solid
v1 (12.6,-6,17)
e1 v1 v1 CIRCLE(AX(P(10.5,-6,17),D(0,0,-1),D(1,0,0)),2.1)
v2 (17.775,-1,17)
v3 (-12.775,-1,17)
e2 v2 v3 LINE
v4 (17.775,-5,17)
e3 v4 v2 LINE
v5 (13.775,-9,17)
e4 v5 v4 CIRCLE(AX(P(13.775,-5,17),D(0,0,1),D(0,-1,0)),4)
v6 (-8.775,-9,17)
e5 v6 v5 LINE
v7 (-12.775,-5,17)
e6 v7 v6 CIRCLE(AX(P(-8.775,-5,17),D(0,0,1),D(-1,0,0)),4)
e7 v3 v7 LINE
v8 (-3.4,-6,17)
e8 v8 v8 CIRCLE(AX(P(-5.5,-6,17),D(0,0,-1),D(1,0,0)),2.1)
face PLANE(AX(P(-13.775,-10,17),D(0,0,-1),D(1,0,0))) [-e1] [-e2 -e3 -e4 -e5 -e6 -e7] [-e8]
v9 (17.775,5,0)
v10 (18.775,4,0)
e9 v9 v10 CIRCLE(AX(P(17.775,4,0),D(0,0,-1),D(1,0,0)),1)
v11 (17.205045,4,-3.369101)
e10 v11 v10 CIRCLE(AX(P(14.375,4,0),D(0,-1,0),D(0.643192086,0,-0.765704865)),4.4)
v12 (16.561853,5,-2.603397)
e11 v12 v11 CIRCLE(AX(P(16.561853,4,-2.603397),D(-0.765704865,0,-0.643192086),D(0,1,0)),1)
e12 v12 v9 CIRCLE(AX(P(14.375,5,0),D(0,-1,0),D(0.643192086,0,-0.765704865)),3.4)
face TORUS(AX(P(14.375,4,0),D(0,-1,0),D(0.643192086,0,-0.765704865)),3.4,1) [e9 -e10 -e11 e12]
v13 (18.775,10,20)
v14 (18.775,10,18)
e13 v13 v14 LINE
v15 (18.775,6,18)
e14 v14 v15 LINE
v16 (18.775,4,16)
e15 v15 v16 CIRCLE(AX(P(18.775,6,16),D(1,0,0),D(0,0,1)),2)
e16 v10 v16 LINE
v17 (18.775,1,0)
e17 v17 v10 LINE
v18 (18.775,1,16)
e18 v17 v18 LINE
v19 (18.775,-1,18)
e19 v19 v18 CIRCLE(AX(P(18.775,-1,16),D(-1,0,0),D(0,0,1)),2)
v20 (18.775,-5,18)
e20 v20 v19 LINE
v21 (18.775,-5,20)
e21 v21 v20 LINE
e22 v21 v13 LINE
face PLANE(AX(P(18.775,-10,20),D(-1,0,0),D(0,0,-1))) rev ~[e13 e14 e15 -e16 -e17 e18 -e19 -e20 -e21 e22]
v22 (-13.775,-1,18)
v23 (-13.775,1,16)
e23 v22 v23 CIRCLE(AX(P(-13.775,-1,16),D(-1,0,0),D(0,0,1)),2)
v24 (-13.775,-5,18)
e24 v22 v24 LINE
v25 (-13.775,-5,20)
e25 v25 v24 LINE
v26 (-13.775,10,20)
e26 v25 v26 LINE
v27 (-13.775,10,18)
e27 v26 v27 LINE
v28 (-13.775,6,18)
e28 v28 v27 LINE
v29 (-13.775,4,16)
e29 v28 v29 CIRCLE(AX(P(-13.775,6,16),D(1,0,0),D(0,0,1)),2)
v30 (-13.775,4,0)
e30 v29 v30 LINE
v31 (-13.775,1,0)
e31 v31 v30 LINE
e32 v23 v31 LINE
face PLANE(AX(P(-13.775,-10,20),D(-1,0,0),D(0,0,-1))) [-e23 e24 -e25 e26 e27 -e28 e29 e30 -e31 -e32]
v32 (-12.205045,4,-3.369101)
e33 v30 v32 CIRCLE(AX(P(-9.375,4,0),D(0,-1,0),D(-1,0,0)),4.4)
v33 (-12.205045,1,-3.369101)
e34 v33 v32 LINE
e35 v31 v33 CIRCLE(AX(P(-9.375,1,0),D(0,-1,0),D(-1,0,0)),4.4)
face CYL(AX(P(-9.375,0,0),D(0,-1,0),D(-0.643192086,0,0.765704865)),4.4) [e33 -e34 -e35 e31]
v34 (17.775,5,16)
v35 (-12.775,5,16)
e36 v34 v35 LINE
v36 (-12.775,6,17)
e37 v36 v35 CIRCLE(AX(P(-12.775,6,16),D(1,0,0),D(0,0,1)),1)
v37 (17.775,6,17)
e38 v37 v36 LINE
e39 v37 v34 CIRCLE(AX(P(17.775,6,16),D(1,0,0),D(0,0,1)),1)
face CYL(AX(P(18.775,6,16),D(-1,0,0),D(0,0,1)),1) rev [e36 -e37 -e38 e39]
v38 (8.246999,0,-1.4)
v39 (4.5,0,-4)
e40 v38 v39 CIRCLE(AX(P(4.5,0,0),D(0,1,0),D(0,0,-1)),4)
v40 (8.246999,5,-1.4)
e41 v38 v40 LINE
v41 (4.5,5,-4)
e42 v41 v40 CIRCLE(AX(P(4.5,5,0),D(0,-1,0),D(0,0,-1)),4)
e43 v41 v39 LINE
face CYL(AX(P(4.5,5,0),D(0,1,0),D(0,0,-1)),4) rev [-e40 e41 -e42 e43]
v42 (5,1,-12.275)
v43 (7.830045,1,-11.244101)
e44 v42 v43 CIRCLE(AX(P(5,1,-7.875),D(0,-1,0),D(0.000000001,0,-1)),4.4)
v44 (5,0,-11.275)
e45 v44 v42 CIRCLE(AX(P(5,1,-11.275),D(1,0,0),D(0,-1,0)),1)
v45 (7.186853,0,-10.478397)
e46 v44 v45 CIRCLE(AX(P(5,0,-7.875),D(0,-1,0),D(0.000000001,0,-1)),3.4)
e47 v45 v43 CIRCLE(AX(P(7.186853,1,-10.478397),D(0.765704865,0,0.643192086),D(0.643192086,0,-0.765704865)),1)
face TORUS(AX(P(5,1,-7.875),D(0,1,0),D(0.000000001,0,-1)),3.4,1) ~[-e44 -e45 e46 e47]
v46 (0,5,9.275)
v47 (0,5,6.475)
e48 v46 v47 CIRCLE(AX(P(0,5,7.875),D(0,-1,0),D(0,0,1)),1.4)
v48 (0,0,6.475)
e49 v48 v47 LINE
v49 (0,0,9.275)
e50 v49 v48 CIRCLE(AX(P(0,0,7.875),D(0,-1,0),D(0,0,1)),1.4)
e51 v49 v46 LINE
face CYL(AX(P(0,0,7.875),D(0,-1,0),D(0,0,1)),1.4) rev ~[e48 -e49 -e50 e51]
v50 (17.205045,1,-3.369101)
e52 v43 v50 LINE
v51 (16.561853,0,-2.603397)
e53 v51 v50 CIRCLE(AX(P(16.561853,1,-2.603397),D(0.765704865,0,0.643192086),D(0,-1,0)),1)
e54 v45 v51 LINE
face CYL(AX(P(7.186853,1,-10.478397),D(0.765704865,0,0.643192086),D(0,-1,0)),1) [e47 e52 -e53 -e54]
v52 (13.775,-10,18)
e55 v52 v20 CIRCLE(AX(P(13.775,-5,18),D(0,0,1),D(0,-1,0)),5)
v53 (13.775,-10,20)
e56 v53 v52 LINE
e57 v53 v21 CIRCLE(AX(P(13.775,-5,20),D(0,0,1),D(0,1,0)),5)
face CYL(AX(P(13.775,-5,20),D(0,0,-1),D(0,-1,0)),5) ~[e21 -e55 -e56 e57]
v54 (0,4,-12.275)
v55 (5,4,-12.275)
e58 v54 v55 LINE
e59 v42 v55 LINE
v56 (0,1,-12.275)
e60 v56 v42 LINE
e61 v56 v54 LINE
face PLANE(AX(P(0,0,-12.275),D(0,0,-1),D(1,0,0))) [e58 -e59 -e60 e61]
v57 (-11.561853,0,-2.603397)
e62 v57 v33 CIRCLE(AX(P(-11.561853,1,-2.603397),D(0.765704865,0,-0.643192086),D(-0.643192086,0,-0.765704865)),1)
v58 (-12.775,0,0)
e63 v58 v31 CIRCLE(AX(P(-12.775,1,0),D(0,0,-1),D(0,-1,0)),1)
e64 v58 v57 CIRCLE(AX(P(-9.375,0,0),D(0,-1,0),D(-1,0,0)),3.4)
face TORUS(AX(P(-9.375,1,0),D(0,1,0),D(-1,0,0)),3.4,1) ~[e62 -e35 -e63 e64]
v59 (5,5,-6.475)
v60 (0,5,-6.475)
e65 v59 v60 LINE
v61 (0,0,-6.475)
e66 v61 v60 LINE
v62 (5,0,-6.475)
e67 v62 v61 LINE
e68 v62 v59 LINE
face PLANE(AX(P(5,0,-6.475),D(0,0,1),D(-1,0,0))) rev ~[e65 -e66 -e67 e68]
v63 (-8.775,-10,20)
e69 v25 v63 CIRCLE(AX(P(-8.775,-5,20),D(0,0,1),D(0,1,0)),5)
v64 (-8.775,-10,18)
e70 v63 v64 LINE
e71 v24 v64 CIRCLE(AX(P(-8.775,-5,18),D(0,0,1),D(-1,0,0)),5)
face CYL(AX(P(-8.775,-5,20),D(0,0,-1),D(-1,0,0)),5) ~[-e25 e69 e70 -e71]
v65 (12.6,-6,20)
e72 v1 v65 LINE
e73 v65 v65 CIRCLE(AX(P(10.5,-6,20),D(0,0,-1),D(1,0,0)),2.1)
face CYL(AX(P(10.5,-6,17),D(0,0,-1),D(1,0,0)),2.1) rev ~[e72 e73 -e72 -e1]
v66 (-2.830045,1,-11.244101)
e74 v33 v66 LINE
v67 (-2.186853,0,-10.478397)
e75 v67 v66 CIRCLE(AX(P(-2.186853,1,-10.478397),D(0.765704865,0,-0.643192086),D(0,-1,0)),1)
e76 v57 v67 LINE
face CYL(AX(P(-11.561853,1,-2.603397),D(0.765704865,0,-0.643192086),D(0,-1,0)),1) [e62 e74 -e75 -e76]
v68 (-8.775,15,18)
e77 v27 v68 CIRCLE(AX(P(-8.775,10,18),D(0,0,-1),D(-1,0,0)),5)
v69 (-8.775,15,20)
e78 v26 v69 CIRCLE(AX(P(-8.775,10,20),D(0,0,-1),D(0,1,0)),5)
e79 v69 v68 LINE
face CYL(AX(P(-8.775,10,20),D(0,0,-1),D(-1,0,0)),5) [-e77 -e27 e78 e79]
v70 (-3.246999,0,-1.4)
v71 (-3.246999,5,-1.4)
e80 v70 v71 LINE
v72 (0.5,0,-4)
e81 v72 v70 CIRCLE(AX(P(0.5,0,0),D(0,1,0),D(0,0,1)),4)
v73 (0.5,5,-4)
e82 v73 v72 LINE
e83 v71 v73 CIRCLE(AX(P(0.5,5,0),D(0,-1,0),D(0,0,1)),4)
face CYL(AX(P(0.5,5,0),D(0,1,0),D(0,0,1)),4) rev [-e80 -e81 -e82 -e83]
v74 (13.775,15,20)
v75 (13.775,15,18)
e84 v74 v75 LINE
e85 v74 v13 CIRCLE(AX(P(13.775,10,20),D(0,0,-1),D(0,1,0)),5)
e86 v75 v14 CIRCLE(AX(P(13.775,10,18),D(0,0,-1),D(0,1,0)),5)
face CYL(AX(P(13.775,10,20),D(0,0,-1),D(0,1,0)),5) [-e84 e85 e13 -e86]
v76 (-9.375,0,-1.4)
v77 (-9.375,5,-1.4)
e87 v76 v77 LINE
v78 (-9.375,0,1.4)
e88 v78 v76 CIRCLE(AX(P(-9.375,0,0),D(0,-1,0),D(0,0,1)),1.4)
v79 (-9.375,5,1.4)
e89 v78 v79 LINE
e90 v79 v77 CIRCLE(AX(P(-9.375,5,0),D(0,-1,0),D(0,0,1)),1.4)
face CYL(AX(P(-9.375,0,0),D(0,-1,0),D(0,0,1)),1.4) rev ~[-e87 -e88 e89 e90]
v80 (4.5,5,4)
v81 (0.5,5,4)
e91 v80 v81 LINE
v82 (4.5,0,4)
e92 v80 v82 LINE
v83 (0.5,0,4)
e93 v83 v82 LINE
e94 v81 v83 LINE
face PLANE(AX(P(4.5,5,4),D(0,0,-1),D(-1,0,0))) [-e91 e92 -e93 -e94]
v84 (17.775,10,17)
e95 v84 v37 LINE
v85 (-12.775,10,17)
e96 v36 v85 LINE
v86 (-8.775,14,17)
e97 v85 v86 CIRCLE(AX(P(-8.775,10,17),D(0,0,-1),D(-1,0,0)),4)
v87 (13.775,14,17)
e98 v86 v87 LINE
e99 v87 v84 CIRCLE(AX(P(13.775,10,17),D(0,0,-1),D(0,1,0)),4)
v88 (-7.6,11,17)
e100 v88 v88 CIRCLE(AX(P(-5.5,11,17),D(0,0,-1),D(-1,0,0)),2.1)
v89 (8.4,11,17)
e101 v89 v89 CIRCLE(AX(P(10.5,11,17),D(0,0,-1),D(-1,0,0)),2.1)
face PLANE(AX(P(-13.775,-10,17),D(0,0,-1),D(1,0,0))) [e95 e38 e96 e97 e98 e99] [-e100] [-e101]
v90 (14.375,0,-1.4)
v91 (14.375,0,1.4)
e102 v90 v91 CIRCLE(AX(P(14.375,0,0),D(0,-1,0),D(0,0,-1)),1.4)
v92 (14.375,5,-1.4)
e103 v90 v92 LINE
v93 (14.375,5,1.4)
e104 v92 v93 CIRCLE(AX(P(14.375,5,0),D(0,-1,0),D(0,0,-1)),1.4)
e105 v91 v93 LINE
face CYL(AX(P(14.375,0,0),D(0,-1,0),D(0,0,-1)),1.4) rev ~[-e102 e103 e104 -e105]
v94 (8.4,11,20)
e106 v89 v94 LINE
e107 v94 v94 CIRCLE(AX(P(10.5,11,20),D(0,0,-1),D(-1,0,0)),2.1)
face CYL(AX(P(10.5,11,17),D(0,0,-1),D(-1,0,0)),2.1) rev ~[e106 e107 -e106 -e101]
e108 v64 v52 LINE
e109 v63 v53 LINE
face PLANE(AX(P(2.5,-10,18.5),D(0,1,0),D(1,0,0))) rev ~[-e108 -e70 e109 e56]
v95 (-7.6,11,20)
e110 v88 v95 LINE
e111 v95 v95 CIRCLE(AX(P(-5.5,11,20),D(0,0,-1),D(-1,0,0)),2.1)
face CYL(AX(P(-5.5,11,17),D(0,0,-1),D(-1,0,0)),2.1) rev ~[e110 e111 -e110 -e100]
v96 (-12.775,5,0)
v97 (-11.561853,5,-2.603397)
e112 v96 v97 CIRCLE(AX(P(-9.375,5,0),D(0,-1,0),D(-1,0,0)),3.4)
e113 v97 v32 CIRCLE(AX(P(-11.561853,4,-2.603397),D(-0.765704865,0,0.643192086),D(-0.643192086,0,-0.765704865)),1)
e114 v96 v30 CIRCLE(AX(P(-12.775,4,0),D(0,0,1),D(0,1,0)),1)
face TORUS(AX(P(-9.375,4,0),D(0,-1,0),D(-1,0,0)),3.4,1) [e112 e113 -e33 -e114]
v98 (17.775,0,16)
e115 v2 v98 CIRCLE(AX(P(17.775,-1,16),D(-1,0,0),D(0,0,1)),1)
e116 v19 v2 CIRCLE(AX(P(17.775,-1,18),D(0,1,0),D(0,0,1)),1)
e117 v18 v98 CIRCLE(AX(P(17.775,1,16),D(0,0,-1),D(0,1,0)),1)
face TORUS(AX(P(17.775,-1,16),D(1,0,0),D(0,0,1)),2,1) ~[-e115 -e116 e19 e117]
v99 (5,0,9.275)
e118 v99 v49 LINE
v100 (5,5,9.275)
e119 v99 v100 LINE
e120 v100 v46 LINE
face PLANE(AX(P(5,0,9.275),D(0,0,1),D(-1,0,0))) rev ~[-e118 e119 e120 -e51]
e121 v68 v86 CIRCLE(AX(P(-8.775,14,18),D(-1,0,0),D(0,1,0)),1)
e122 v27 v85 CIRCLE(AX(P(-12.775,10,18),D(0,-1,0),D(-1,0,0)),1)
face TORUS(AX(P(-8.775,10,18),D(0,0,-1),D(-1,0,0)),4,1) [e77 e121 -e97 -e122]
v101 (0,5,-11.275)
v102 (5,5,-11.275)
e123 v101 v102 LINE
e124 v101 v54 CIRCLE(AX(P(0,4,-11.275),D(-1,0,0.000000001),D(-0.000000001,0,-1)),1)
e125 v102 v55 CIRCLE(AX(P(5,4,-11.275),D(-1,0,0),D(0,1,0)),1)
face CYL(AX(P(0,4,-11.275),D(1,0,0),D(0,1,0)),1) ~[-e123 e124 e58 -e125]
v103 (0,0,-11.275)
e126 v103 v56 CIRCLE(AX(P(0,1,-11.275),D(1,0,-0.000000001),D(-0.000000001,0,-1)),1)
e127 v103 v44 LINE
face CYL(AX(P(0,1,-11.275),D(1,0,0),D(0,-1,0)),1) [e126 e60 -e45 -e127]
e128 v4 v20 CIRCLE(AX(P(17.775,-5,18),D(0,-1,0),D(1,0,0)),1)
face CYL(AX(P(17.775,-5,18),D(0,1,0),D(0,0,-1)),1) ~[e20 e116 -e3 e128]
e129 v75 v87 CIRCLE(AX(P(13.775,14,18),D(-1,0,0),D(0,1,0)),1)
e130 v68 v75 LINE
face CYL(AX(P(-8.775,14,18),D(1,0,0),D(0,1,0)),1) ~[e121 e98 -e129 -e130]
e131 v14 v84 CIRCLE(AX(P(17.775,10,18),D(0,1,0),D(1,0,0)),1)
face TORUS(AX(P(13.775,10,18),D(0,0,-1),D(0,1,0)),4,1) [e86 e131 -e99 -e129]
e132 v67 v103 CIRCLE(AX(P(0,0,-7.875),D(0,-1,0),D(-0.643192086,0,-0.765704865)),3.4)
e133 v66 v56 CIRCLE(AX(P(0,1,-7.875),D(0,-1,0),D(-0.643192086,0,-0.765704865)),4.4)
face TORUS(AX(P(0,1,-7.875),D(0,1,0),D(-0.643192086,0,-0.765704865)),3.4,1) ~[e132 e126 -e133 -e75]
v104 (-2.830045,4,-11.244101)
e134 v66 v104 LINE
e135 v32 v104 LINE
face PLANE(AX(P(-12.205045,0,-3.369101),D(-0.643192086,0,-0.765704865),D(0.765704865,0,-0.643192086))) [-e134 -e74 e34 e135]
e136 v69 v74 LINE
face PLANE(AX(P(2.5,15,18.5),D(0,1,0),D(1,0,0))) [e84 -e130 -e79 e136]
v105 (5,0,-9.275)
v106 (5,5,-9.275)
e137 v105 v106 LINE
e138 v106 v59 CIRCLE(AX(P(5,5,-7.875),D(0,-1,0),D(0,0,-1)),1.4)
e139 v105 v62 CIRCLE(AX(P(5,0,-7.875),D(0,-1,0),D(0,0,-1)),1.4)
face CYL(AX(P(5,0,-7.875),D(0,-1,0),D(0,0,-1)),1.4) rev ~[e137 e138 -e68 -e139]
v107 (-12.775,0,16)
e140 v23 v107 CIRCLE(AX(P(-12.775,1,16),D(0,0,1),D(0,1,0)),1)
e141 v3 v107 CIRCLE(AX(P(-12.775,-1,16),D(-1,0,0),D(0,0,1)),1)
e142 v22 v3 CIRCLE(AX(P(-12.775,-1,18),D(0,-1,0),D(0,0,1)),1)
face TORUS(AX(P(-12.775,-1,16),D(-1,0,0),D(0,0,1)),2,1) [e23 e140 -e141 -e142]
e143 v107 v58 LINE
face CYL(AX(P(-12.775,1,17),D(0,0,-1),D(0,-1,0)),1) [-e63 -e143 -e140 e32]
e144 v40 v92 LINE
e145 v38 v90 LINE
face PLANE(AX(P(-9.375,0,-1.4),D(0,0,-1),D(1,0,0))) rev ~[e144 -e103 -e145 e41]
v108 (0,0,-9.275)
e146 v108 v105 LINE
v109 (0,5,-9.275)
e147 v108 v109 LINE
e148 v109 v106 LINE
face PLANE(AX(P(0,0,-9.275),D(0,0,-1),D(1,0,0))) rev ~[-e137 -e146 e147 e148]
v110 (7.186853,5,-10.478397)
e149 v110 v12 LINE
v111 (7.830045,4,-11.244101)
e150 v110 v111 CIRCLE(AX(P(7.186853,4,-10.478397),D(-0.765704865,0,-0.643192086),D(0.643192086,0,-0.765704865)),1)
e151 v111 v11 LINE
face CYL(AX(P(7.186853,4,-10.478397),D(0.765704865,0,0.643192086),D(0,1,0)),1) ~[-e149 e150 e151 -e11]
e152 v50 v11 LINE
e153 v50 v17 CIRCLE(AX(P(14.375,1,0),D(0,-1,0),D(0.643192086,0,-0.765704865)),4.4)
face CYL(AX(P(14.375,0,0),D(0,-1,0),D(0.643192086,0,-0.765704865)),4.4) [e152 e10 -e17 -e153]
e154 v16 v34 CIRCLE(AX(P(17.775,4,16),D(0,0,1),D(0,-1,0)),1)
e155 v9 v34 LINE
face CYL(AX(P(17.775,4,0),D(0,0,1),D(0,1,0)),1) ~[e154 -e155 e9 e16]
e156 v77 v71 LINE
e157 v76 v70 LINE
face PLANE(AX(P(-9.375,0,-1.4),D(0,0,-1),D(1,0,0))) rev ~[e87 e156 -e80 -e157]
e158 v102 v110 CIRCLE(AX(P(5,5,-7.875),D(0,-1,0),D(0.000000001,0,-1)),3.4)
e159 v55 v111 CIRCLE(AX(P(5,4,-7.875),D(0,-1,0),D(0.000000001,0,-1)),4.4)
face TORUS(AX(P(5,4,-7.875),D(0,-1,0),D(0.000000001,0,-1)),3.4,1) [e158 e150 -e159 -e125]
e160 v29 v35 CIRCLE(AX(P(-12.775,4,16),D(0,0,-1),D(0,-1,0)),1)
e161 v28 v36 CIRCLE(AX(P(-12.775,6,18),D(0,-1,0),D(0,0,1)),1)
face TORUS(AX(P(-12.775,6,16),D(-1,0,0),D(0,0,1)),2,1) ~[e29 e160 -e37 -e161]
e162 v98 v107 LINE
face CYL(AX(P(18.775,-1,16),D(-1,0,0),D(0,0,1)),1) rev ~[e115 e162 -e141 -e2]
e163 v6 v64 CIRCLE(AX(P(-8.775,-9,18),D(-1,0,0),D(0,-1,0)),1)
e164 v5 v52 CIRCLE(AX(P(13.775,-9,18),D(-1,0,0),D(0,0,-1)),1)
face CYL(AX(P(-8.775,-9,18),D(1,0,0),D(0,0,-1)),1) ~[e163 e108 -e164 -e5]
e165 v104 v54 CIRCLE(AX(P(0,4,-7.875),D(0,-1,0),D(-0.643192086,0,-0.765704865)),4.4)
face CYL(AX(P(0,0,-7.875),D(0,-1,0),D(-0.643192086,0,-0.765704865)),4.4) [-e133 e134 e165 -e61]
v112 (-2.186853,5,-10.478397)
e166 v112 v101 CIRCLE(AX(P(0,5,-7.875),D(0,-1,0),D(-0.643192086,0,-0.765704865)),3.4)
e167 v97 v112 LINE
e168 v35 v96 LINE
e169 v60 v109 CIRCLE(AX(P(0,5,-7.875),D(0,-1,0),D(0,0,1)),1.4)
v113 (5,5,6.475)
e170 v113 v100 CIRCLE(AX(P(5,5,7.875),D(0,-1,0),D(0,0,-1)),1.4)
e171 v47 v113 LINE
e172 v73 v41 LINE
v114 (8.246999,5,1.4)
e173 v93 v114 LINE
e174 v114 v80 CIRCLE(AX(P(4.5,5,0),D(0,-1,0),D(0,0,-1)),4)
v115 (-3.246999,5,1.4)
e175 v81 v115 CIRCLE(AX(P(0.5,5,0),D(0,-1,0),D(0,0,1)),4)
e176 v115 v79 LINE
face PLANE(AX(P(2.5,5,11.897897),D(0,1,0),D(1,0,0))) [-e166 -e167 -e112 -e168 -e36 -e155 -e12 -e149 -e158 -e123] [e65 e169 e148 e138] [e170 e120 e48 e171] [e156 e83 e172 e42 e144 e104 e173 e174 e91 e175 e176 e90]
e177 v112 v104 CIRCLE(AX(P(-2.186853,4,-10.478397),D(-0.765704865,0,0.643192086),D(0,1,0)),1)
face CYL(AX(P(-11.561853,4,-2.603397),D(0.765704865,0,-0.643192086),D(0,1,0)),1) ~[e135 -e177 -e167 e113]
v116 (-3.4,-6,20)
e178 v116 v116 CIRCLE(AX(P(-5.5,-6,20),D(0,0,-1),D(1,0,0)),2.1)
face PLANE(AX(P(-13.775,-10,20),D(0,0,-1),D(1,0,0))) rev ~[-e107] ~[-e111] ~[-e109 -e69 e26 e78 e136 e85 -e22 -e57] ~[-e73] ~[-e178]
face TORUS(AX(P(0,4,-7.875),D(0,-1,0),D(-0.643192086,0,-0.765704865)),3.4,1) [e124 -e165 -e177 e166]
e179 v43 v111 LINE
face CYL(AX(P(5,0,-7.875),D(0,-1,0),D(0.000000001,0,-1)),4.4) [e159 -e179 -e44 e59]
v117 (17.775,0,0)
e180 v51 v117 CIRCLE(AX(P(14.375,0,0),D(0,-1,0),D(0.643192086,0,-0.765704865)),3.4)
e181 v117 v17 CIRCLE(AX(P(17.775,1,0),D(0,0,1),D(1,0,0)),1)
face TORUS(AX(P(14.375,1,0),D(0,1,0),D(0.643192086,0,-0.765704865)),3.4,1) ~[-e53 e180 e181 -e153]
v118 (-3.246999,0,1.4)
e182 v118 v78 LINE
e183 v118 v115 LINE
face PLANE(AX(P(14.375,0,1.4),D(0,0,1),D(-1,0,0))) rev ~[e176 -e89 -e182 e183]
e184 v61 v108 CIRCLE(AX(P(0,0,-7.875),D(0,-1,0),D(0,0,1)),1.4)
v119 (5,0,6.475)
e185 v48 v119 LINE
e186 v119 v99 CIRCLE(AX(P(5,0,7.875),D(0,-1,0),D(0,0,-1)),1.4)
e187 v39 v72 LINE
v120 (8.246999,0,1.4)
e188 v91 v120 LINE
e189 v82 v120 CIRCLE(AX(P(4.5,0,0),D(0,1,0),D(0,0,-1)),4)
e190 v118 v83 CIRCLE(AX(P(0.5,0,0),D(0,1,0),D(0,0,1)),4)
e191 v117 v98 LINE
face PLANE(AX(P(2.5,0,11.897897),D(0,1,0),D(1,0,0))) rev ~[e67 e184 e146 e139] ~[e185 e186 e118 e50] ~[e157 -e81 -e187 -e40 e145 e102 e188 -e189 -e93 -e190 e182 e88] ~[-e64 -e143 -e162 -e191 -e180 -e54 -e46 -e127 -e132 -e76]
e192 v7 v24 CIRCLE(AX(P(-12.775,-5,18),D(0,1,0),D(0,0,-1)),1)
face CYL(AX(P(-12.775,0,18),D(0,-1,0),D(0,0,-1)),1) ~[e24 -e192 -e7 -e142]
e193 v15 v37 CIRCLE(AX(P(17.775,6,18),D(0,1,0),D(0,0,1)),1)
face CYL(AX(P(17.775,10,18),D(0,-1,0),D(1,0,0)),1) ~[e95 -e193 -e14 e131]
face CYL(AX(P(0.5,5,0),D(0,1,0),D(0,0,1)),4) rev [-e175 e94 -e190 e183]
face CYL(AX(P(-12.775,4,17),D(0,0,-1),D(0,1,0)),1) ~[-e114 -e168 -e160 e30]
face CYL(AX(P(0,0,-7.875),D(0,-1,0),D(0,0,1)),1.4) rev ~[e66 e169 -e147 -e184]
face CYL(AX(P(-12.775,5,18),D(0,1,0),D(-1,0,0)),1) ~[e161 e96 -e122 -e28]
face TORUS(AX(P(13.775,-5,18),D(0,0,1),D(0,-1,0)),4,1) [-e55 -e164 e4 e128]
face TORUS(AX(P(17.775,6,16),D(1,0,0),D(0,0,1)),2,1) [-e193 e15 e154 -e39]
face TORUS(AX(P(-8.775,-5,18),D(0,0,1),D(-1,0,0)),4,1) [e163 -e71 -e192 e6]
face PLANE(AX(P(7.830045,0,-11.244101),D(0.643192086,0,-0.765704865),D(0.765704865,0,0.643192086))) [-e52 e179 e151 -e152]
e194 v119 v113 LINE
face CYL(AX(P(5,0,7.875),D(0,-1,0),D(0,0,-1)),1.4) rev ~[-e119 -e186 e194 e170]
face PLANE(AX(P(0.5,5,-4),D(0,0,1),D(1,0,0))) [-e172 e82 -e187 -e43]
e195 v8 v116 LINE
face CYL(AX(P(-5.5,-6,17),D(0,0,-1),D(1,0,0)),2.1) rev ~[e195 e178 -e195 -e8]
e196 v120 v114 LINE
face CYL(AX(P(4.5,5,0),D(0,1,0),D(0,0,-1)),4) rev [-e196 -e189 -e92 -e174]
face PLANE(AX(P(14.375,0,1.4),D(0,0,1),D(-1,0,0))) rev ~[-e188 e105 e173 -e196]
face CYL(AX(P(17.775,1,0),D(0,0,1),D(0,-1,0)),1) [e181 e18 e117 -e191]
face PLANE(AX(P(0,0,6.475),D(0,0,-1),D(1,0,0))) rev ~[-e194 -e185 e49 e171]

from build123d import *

# Parameters (mm, degrees)
BOSS_EXTRUDE1_DEPTH      = 5
CUT_EXTRUDE1_DEPTH       = 23.982085415
BOSS_EXTRUDE3_START      = -5
BOSS_EXTRUDE3_DEPTH      = 5
BOSS_EXTRUDE4_DEPTH      = 10
BOSS_EXTRUDE4_DEPTH_BACK = 15
SKETCH5_W                = 32.55
SKETCH5_H                = 3
SKETCH6_R                = 2.1
CUT_EXTRUDE2_DEPTH       = 10
FILLET1_R                = 5
FILLET2_R                = 1


with BuildPart() as part:
    # Sketch1 → Boss-Extrude1 (new body)
    with BuildSketch(Plane(origin=(0, 0, 0), x_dir=(1, 0, 0), z_dir=(0, 1, 0))):
        with BuildLine():
            Line((0, 12.275), (5, 12.275))
            ThreePointArc((5, 12.275), (6.505980381, 12.009250003), (7.83004518, 11.244101405))
            Line((7.83004518, 11.244101405), (17.20504518, 3.369101405))
            ThreePointArc((17.20504518, 3.369101405), (18.775, 0), (17.20504518, -3.369101405))
            Line((17.20504518, -3.369101405), (7.83004518, -11.244101405))
            ThreePointArc((7.83004518, -11.244101405), (6.505980381, -12.009250003), (5, -12.275))
            Line((5, -12.275), (0, -12.275))
            ThreePointArc((0, -12.275), (-1.505980381, -12.009250003), (-2.83004518, -11.244101405))
            Line((-2.83004518, -11.244101405), (-12.20504518, -3.369101405))
            ThreePointArc((-12.20504518, -3.369101405), (-13.775, 0), (-12.20504518, 3.369101405))
            Line((-12.20504518, 3.369101405), (-2.83004518, 11.244101405))
            ThreePointArc((-2.83004518, 11.244101405), (-1.505980381, 12.009250003), (0, 12.275))
        make_face()
        with BuildLine():
            Line((-9.375, 1.4), (14.375, 1.4))
            ThreePointArc((14.375, 1.4), (15.775, 0), (14.375, -1.4))
            Line((14.375, -1.4), (-9.375, -1.4))
            ThreePointArc((-9.375, -1.4), (-10.775, 0), (-9.375, 1.4))
        make_face(mode=Mode.SUBTRACT)
        with BuildLine():
            Line((0, 9.275), (5, 9.275))
            ThreePointArc((5, 9.275), (6.4, 7.875), (5, 6.475))
            Line((5, 6.475), (0, 6.475))
            ThreePointArc((0, 6.475), (-1.4, 7.875), (0, 9.275))
        make_face(mode=Mode.SUBTRACT)
        with BuildLine():
            Line((0, -6.475), (5, -6.475))
            ThreePointArc((5, -6.475), (6.4, -7.875), (5, -9.275))
            Line((5, -9.275), (0, -9.275))
            ThreePointArc((0, -9.275), (-1.4, -7.875), (0, -6.475))
        make_face(mode=Mode.SUBTRACT)
    extrude(amount=BOSS_EXTRUDE1_DEPTH)

    # Sketch2 → Cut-Extrude1 (cut, through all)
    with BuildSketch(Plane(origin=(0, 5, 0), x_dir=(1, 0, 0), z_dir=(0, 1, 0))):
        with BuildLine():
            Line((0.5, 4), (4.5, 4))
            ThreePointArc((4.5, 4), (8.5, 0), (4.5, -4))
            Line((4.5, -4), (0.5, -4))
            ThreePointArc((0.5, -4), (-3.5, 0), (0.5, 4))
        make_face()
    extrude(amount=-CUT_EXTRUDE1_DEPTH, mode=Mode.SUBTRACT)

    # Sketch4 → Boss-Extrude3 (add)
    with BuildSketch(Plane(origin=(0, 5, 0), x_dir=(1, 0, 0), z_dir=(0, 1, 0)).offset(BOSS_EXTRUDE3_START)):
        with BuildLine():
            Line((-13.775, 0), (-13.775, -20))
            Line((-13.775, -20), (18.775, -20))
            Line((18.775, -20), (18.775, 0))
            ThreePointArc((18.775, 0), (18.363245153, -1.858467273), (17.20504518, -3.369101405))
            Line((17.20504518, -3.369101405), (7.83004518, -11.244101405))
            ThreePointArc((7.83004518, -11.244101405), (6.505980381, -12.009250003), (5, -12.275))
            Line((5, -12.275), (0, -12.275))
            ThreePointArc((0, -12.275), (-1.505980381, -12.009250003), (-2.83004518, -11.244101405))
            Line((-2.83004518, -11.244101405), (-12.20504518, -3.369101405))
            ThreePointArc((-12.20504518, -3.369101405), (-13.363245153, -1.858467273), (-13.775, 0))
        make_face()
    extrude(amount=BOSS_EXTRUDE3_DEPTH)

    # Sketch5 → Boss-Extrude4 (add, two sides: drawn at the far end of the back side and taken through both)
    with BuildSketch(Plane(origin=(0, 5, 0), x_dir=(1, 0, 0), z_dir=(0, 1, 0)).offset(-BOSS_EXTRUDE4_DEPTH_BACK)):
        with Locations((2.5, -18.5)):
            Rectangle(SKETCH5_W, SKETCH5_H)
    extrude(amount=BOSS_EXTRUDE4_DEPTH + BOSS_EXTRUDE4_DEPTH_BACK)

    # Sketch6 → Cut-Extrude2 (cut)
    with BuildSketch(Plane(origin=(0, 0, 17), x_dir=(-1, 0, 0), z_dir=(0, 0, -1))):
        with Locations((-10.5, 11)):
            Circle(SKETCH6_R)
        with Locations((5.5, 11)):
            Circle(SKETCH6_R)
        with Locations(Location((5.5, -6, 0), (0, 0, 180))):
            Circle(SKETCH6_R)
        with Locations(Location((-10.5, -6, 0), (0, 0, 180))):
            Circle(SKETCH6_R)
    extrude(amount=-CUT_EXTRUDE2_DEPTH, mode=Mode.SUBTRACT)

    # Fillet1
    fillet1_edges = [part.edges().sort_by_distance(p)[0] for p in [
        (-13.775, -10, 18.5),
        (18.775, -10, 18.5),
        (-13.775, 15, 18.5),
        (18.775, 15, 18.5),
    ]]
    fillet(fillet1_edges, radius=FILLET1_R)

    # Fillet2
    fillet2_edges = [part.edges().sort_by_distance(p)[0] for p in [
        (18.363245153, 0, -1.858467273),
        (18.363245153, 5, -1.858467273),
        (-13.775, 0, 8.5),
        (-13.775, 5, 8.5),
        (2.5, 0, -12.275),
        (6.505980381, 0, -12.009250003),
        (-13.363245153, 5, -1.858467273),
        (12.51754518, 0, -7.306601405),
        (18.775, 5, 8.5),
        (18.775, 0, 8.5),
        (2.5, 0, 17),
        (2.5, 5, 17),
        (-13.775, 7.5, 17),
        (18.775, 7.5, 17),
        (-13.363245153, 0, -1.858467273),
        (-7.51754518, 0, -7.306601405),
        (-1.505980381, 0, -12.009250003),
        (18.775, -2.5, 17),
        (2.5, -10, 17),
        (-13.775, -2.5, 17),
        (-12.310533906, -8.535533906, 17),
        (17.310533906, -8.535533906, 17),
        (2.5, 15, 17),
        (-12.310533906, 13.535533906, 17),
        (17.310533906, 13.535533906, 17),
        (12.51754518, 5, -7.306601405),
        (6.505980381, 5, -12.009250003),
        (2.5, 5, -12.275),
        (-1.505980381, 5, -12.009250003),
        (-7.51754518, 5, -7.306601405),
    ]]
    fillet(fillet2_edges, radius=FILLET2_R)


solid = part.part
